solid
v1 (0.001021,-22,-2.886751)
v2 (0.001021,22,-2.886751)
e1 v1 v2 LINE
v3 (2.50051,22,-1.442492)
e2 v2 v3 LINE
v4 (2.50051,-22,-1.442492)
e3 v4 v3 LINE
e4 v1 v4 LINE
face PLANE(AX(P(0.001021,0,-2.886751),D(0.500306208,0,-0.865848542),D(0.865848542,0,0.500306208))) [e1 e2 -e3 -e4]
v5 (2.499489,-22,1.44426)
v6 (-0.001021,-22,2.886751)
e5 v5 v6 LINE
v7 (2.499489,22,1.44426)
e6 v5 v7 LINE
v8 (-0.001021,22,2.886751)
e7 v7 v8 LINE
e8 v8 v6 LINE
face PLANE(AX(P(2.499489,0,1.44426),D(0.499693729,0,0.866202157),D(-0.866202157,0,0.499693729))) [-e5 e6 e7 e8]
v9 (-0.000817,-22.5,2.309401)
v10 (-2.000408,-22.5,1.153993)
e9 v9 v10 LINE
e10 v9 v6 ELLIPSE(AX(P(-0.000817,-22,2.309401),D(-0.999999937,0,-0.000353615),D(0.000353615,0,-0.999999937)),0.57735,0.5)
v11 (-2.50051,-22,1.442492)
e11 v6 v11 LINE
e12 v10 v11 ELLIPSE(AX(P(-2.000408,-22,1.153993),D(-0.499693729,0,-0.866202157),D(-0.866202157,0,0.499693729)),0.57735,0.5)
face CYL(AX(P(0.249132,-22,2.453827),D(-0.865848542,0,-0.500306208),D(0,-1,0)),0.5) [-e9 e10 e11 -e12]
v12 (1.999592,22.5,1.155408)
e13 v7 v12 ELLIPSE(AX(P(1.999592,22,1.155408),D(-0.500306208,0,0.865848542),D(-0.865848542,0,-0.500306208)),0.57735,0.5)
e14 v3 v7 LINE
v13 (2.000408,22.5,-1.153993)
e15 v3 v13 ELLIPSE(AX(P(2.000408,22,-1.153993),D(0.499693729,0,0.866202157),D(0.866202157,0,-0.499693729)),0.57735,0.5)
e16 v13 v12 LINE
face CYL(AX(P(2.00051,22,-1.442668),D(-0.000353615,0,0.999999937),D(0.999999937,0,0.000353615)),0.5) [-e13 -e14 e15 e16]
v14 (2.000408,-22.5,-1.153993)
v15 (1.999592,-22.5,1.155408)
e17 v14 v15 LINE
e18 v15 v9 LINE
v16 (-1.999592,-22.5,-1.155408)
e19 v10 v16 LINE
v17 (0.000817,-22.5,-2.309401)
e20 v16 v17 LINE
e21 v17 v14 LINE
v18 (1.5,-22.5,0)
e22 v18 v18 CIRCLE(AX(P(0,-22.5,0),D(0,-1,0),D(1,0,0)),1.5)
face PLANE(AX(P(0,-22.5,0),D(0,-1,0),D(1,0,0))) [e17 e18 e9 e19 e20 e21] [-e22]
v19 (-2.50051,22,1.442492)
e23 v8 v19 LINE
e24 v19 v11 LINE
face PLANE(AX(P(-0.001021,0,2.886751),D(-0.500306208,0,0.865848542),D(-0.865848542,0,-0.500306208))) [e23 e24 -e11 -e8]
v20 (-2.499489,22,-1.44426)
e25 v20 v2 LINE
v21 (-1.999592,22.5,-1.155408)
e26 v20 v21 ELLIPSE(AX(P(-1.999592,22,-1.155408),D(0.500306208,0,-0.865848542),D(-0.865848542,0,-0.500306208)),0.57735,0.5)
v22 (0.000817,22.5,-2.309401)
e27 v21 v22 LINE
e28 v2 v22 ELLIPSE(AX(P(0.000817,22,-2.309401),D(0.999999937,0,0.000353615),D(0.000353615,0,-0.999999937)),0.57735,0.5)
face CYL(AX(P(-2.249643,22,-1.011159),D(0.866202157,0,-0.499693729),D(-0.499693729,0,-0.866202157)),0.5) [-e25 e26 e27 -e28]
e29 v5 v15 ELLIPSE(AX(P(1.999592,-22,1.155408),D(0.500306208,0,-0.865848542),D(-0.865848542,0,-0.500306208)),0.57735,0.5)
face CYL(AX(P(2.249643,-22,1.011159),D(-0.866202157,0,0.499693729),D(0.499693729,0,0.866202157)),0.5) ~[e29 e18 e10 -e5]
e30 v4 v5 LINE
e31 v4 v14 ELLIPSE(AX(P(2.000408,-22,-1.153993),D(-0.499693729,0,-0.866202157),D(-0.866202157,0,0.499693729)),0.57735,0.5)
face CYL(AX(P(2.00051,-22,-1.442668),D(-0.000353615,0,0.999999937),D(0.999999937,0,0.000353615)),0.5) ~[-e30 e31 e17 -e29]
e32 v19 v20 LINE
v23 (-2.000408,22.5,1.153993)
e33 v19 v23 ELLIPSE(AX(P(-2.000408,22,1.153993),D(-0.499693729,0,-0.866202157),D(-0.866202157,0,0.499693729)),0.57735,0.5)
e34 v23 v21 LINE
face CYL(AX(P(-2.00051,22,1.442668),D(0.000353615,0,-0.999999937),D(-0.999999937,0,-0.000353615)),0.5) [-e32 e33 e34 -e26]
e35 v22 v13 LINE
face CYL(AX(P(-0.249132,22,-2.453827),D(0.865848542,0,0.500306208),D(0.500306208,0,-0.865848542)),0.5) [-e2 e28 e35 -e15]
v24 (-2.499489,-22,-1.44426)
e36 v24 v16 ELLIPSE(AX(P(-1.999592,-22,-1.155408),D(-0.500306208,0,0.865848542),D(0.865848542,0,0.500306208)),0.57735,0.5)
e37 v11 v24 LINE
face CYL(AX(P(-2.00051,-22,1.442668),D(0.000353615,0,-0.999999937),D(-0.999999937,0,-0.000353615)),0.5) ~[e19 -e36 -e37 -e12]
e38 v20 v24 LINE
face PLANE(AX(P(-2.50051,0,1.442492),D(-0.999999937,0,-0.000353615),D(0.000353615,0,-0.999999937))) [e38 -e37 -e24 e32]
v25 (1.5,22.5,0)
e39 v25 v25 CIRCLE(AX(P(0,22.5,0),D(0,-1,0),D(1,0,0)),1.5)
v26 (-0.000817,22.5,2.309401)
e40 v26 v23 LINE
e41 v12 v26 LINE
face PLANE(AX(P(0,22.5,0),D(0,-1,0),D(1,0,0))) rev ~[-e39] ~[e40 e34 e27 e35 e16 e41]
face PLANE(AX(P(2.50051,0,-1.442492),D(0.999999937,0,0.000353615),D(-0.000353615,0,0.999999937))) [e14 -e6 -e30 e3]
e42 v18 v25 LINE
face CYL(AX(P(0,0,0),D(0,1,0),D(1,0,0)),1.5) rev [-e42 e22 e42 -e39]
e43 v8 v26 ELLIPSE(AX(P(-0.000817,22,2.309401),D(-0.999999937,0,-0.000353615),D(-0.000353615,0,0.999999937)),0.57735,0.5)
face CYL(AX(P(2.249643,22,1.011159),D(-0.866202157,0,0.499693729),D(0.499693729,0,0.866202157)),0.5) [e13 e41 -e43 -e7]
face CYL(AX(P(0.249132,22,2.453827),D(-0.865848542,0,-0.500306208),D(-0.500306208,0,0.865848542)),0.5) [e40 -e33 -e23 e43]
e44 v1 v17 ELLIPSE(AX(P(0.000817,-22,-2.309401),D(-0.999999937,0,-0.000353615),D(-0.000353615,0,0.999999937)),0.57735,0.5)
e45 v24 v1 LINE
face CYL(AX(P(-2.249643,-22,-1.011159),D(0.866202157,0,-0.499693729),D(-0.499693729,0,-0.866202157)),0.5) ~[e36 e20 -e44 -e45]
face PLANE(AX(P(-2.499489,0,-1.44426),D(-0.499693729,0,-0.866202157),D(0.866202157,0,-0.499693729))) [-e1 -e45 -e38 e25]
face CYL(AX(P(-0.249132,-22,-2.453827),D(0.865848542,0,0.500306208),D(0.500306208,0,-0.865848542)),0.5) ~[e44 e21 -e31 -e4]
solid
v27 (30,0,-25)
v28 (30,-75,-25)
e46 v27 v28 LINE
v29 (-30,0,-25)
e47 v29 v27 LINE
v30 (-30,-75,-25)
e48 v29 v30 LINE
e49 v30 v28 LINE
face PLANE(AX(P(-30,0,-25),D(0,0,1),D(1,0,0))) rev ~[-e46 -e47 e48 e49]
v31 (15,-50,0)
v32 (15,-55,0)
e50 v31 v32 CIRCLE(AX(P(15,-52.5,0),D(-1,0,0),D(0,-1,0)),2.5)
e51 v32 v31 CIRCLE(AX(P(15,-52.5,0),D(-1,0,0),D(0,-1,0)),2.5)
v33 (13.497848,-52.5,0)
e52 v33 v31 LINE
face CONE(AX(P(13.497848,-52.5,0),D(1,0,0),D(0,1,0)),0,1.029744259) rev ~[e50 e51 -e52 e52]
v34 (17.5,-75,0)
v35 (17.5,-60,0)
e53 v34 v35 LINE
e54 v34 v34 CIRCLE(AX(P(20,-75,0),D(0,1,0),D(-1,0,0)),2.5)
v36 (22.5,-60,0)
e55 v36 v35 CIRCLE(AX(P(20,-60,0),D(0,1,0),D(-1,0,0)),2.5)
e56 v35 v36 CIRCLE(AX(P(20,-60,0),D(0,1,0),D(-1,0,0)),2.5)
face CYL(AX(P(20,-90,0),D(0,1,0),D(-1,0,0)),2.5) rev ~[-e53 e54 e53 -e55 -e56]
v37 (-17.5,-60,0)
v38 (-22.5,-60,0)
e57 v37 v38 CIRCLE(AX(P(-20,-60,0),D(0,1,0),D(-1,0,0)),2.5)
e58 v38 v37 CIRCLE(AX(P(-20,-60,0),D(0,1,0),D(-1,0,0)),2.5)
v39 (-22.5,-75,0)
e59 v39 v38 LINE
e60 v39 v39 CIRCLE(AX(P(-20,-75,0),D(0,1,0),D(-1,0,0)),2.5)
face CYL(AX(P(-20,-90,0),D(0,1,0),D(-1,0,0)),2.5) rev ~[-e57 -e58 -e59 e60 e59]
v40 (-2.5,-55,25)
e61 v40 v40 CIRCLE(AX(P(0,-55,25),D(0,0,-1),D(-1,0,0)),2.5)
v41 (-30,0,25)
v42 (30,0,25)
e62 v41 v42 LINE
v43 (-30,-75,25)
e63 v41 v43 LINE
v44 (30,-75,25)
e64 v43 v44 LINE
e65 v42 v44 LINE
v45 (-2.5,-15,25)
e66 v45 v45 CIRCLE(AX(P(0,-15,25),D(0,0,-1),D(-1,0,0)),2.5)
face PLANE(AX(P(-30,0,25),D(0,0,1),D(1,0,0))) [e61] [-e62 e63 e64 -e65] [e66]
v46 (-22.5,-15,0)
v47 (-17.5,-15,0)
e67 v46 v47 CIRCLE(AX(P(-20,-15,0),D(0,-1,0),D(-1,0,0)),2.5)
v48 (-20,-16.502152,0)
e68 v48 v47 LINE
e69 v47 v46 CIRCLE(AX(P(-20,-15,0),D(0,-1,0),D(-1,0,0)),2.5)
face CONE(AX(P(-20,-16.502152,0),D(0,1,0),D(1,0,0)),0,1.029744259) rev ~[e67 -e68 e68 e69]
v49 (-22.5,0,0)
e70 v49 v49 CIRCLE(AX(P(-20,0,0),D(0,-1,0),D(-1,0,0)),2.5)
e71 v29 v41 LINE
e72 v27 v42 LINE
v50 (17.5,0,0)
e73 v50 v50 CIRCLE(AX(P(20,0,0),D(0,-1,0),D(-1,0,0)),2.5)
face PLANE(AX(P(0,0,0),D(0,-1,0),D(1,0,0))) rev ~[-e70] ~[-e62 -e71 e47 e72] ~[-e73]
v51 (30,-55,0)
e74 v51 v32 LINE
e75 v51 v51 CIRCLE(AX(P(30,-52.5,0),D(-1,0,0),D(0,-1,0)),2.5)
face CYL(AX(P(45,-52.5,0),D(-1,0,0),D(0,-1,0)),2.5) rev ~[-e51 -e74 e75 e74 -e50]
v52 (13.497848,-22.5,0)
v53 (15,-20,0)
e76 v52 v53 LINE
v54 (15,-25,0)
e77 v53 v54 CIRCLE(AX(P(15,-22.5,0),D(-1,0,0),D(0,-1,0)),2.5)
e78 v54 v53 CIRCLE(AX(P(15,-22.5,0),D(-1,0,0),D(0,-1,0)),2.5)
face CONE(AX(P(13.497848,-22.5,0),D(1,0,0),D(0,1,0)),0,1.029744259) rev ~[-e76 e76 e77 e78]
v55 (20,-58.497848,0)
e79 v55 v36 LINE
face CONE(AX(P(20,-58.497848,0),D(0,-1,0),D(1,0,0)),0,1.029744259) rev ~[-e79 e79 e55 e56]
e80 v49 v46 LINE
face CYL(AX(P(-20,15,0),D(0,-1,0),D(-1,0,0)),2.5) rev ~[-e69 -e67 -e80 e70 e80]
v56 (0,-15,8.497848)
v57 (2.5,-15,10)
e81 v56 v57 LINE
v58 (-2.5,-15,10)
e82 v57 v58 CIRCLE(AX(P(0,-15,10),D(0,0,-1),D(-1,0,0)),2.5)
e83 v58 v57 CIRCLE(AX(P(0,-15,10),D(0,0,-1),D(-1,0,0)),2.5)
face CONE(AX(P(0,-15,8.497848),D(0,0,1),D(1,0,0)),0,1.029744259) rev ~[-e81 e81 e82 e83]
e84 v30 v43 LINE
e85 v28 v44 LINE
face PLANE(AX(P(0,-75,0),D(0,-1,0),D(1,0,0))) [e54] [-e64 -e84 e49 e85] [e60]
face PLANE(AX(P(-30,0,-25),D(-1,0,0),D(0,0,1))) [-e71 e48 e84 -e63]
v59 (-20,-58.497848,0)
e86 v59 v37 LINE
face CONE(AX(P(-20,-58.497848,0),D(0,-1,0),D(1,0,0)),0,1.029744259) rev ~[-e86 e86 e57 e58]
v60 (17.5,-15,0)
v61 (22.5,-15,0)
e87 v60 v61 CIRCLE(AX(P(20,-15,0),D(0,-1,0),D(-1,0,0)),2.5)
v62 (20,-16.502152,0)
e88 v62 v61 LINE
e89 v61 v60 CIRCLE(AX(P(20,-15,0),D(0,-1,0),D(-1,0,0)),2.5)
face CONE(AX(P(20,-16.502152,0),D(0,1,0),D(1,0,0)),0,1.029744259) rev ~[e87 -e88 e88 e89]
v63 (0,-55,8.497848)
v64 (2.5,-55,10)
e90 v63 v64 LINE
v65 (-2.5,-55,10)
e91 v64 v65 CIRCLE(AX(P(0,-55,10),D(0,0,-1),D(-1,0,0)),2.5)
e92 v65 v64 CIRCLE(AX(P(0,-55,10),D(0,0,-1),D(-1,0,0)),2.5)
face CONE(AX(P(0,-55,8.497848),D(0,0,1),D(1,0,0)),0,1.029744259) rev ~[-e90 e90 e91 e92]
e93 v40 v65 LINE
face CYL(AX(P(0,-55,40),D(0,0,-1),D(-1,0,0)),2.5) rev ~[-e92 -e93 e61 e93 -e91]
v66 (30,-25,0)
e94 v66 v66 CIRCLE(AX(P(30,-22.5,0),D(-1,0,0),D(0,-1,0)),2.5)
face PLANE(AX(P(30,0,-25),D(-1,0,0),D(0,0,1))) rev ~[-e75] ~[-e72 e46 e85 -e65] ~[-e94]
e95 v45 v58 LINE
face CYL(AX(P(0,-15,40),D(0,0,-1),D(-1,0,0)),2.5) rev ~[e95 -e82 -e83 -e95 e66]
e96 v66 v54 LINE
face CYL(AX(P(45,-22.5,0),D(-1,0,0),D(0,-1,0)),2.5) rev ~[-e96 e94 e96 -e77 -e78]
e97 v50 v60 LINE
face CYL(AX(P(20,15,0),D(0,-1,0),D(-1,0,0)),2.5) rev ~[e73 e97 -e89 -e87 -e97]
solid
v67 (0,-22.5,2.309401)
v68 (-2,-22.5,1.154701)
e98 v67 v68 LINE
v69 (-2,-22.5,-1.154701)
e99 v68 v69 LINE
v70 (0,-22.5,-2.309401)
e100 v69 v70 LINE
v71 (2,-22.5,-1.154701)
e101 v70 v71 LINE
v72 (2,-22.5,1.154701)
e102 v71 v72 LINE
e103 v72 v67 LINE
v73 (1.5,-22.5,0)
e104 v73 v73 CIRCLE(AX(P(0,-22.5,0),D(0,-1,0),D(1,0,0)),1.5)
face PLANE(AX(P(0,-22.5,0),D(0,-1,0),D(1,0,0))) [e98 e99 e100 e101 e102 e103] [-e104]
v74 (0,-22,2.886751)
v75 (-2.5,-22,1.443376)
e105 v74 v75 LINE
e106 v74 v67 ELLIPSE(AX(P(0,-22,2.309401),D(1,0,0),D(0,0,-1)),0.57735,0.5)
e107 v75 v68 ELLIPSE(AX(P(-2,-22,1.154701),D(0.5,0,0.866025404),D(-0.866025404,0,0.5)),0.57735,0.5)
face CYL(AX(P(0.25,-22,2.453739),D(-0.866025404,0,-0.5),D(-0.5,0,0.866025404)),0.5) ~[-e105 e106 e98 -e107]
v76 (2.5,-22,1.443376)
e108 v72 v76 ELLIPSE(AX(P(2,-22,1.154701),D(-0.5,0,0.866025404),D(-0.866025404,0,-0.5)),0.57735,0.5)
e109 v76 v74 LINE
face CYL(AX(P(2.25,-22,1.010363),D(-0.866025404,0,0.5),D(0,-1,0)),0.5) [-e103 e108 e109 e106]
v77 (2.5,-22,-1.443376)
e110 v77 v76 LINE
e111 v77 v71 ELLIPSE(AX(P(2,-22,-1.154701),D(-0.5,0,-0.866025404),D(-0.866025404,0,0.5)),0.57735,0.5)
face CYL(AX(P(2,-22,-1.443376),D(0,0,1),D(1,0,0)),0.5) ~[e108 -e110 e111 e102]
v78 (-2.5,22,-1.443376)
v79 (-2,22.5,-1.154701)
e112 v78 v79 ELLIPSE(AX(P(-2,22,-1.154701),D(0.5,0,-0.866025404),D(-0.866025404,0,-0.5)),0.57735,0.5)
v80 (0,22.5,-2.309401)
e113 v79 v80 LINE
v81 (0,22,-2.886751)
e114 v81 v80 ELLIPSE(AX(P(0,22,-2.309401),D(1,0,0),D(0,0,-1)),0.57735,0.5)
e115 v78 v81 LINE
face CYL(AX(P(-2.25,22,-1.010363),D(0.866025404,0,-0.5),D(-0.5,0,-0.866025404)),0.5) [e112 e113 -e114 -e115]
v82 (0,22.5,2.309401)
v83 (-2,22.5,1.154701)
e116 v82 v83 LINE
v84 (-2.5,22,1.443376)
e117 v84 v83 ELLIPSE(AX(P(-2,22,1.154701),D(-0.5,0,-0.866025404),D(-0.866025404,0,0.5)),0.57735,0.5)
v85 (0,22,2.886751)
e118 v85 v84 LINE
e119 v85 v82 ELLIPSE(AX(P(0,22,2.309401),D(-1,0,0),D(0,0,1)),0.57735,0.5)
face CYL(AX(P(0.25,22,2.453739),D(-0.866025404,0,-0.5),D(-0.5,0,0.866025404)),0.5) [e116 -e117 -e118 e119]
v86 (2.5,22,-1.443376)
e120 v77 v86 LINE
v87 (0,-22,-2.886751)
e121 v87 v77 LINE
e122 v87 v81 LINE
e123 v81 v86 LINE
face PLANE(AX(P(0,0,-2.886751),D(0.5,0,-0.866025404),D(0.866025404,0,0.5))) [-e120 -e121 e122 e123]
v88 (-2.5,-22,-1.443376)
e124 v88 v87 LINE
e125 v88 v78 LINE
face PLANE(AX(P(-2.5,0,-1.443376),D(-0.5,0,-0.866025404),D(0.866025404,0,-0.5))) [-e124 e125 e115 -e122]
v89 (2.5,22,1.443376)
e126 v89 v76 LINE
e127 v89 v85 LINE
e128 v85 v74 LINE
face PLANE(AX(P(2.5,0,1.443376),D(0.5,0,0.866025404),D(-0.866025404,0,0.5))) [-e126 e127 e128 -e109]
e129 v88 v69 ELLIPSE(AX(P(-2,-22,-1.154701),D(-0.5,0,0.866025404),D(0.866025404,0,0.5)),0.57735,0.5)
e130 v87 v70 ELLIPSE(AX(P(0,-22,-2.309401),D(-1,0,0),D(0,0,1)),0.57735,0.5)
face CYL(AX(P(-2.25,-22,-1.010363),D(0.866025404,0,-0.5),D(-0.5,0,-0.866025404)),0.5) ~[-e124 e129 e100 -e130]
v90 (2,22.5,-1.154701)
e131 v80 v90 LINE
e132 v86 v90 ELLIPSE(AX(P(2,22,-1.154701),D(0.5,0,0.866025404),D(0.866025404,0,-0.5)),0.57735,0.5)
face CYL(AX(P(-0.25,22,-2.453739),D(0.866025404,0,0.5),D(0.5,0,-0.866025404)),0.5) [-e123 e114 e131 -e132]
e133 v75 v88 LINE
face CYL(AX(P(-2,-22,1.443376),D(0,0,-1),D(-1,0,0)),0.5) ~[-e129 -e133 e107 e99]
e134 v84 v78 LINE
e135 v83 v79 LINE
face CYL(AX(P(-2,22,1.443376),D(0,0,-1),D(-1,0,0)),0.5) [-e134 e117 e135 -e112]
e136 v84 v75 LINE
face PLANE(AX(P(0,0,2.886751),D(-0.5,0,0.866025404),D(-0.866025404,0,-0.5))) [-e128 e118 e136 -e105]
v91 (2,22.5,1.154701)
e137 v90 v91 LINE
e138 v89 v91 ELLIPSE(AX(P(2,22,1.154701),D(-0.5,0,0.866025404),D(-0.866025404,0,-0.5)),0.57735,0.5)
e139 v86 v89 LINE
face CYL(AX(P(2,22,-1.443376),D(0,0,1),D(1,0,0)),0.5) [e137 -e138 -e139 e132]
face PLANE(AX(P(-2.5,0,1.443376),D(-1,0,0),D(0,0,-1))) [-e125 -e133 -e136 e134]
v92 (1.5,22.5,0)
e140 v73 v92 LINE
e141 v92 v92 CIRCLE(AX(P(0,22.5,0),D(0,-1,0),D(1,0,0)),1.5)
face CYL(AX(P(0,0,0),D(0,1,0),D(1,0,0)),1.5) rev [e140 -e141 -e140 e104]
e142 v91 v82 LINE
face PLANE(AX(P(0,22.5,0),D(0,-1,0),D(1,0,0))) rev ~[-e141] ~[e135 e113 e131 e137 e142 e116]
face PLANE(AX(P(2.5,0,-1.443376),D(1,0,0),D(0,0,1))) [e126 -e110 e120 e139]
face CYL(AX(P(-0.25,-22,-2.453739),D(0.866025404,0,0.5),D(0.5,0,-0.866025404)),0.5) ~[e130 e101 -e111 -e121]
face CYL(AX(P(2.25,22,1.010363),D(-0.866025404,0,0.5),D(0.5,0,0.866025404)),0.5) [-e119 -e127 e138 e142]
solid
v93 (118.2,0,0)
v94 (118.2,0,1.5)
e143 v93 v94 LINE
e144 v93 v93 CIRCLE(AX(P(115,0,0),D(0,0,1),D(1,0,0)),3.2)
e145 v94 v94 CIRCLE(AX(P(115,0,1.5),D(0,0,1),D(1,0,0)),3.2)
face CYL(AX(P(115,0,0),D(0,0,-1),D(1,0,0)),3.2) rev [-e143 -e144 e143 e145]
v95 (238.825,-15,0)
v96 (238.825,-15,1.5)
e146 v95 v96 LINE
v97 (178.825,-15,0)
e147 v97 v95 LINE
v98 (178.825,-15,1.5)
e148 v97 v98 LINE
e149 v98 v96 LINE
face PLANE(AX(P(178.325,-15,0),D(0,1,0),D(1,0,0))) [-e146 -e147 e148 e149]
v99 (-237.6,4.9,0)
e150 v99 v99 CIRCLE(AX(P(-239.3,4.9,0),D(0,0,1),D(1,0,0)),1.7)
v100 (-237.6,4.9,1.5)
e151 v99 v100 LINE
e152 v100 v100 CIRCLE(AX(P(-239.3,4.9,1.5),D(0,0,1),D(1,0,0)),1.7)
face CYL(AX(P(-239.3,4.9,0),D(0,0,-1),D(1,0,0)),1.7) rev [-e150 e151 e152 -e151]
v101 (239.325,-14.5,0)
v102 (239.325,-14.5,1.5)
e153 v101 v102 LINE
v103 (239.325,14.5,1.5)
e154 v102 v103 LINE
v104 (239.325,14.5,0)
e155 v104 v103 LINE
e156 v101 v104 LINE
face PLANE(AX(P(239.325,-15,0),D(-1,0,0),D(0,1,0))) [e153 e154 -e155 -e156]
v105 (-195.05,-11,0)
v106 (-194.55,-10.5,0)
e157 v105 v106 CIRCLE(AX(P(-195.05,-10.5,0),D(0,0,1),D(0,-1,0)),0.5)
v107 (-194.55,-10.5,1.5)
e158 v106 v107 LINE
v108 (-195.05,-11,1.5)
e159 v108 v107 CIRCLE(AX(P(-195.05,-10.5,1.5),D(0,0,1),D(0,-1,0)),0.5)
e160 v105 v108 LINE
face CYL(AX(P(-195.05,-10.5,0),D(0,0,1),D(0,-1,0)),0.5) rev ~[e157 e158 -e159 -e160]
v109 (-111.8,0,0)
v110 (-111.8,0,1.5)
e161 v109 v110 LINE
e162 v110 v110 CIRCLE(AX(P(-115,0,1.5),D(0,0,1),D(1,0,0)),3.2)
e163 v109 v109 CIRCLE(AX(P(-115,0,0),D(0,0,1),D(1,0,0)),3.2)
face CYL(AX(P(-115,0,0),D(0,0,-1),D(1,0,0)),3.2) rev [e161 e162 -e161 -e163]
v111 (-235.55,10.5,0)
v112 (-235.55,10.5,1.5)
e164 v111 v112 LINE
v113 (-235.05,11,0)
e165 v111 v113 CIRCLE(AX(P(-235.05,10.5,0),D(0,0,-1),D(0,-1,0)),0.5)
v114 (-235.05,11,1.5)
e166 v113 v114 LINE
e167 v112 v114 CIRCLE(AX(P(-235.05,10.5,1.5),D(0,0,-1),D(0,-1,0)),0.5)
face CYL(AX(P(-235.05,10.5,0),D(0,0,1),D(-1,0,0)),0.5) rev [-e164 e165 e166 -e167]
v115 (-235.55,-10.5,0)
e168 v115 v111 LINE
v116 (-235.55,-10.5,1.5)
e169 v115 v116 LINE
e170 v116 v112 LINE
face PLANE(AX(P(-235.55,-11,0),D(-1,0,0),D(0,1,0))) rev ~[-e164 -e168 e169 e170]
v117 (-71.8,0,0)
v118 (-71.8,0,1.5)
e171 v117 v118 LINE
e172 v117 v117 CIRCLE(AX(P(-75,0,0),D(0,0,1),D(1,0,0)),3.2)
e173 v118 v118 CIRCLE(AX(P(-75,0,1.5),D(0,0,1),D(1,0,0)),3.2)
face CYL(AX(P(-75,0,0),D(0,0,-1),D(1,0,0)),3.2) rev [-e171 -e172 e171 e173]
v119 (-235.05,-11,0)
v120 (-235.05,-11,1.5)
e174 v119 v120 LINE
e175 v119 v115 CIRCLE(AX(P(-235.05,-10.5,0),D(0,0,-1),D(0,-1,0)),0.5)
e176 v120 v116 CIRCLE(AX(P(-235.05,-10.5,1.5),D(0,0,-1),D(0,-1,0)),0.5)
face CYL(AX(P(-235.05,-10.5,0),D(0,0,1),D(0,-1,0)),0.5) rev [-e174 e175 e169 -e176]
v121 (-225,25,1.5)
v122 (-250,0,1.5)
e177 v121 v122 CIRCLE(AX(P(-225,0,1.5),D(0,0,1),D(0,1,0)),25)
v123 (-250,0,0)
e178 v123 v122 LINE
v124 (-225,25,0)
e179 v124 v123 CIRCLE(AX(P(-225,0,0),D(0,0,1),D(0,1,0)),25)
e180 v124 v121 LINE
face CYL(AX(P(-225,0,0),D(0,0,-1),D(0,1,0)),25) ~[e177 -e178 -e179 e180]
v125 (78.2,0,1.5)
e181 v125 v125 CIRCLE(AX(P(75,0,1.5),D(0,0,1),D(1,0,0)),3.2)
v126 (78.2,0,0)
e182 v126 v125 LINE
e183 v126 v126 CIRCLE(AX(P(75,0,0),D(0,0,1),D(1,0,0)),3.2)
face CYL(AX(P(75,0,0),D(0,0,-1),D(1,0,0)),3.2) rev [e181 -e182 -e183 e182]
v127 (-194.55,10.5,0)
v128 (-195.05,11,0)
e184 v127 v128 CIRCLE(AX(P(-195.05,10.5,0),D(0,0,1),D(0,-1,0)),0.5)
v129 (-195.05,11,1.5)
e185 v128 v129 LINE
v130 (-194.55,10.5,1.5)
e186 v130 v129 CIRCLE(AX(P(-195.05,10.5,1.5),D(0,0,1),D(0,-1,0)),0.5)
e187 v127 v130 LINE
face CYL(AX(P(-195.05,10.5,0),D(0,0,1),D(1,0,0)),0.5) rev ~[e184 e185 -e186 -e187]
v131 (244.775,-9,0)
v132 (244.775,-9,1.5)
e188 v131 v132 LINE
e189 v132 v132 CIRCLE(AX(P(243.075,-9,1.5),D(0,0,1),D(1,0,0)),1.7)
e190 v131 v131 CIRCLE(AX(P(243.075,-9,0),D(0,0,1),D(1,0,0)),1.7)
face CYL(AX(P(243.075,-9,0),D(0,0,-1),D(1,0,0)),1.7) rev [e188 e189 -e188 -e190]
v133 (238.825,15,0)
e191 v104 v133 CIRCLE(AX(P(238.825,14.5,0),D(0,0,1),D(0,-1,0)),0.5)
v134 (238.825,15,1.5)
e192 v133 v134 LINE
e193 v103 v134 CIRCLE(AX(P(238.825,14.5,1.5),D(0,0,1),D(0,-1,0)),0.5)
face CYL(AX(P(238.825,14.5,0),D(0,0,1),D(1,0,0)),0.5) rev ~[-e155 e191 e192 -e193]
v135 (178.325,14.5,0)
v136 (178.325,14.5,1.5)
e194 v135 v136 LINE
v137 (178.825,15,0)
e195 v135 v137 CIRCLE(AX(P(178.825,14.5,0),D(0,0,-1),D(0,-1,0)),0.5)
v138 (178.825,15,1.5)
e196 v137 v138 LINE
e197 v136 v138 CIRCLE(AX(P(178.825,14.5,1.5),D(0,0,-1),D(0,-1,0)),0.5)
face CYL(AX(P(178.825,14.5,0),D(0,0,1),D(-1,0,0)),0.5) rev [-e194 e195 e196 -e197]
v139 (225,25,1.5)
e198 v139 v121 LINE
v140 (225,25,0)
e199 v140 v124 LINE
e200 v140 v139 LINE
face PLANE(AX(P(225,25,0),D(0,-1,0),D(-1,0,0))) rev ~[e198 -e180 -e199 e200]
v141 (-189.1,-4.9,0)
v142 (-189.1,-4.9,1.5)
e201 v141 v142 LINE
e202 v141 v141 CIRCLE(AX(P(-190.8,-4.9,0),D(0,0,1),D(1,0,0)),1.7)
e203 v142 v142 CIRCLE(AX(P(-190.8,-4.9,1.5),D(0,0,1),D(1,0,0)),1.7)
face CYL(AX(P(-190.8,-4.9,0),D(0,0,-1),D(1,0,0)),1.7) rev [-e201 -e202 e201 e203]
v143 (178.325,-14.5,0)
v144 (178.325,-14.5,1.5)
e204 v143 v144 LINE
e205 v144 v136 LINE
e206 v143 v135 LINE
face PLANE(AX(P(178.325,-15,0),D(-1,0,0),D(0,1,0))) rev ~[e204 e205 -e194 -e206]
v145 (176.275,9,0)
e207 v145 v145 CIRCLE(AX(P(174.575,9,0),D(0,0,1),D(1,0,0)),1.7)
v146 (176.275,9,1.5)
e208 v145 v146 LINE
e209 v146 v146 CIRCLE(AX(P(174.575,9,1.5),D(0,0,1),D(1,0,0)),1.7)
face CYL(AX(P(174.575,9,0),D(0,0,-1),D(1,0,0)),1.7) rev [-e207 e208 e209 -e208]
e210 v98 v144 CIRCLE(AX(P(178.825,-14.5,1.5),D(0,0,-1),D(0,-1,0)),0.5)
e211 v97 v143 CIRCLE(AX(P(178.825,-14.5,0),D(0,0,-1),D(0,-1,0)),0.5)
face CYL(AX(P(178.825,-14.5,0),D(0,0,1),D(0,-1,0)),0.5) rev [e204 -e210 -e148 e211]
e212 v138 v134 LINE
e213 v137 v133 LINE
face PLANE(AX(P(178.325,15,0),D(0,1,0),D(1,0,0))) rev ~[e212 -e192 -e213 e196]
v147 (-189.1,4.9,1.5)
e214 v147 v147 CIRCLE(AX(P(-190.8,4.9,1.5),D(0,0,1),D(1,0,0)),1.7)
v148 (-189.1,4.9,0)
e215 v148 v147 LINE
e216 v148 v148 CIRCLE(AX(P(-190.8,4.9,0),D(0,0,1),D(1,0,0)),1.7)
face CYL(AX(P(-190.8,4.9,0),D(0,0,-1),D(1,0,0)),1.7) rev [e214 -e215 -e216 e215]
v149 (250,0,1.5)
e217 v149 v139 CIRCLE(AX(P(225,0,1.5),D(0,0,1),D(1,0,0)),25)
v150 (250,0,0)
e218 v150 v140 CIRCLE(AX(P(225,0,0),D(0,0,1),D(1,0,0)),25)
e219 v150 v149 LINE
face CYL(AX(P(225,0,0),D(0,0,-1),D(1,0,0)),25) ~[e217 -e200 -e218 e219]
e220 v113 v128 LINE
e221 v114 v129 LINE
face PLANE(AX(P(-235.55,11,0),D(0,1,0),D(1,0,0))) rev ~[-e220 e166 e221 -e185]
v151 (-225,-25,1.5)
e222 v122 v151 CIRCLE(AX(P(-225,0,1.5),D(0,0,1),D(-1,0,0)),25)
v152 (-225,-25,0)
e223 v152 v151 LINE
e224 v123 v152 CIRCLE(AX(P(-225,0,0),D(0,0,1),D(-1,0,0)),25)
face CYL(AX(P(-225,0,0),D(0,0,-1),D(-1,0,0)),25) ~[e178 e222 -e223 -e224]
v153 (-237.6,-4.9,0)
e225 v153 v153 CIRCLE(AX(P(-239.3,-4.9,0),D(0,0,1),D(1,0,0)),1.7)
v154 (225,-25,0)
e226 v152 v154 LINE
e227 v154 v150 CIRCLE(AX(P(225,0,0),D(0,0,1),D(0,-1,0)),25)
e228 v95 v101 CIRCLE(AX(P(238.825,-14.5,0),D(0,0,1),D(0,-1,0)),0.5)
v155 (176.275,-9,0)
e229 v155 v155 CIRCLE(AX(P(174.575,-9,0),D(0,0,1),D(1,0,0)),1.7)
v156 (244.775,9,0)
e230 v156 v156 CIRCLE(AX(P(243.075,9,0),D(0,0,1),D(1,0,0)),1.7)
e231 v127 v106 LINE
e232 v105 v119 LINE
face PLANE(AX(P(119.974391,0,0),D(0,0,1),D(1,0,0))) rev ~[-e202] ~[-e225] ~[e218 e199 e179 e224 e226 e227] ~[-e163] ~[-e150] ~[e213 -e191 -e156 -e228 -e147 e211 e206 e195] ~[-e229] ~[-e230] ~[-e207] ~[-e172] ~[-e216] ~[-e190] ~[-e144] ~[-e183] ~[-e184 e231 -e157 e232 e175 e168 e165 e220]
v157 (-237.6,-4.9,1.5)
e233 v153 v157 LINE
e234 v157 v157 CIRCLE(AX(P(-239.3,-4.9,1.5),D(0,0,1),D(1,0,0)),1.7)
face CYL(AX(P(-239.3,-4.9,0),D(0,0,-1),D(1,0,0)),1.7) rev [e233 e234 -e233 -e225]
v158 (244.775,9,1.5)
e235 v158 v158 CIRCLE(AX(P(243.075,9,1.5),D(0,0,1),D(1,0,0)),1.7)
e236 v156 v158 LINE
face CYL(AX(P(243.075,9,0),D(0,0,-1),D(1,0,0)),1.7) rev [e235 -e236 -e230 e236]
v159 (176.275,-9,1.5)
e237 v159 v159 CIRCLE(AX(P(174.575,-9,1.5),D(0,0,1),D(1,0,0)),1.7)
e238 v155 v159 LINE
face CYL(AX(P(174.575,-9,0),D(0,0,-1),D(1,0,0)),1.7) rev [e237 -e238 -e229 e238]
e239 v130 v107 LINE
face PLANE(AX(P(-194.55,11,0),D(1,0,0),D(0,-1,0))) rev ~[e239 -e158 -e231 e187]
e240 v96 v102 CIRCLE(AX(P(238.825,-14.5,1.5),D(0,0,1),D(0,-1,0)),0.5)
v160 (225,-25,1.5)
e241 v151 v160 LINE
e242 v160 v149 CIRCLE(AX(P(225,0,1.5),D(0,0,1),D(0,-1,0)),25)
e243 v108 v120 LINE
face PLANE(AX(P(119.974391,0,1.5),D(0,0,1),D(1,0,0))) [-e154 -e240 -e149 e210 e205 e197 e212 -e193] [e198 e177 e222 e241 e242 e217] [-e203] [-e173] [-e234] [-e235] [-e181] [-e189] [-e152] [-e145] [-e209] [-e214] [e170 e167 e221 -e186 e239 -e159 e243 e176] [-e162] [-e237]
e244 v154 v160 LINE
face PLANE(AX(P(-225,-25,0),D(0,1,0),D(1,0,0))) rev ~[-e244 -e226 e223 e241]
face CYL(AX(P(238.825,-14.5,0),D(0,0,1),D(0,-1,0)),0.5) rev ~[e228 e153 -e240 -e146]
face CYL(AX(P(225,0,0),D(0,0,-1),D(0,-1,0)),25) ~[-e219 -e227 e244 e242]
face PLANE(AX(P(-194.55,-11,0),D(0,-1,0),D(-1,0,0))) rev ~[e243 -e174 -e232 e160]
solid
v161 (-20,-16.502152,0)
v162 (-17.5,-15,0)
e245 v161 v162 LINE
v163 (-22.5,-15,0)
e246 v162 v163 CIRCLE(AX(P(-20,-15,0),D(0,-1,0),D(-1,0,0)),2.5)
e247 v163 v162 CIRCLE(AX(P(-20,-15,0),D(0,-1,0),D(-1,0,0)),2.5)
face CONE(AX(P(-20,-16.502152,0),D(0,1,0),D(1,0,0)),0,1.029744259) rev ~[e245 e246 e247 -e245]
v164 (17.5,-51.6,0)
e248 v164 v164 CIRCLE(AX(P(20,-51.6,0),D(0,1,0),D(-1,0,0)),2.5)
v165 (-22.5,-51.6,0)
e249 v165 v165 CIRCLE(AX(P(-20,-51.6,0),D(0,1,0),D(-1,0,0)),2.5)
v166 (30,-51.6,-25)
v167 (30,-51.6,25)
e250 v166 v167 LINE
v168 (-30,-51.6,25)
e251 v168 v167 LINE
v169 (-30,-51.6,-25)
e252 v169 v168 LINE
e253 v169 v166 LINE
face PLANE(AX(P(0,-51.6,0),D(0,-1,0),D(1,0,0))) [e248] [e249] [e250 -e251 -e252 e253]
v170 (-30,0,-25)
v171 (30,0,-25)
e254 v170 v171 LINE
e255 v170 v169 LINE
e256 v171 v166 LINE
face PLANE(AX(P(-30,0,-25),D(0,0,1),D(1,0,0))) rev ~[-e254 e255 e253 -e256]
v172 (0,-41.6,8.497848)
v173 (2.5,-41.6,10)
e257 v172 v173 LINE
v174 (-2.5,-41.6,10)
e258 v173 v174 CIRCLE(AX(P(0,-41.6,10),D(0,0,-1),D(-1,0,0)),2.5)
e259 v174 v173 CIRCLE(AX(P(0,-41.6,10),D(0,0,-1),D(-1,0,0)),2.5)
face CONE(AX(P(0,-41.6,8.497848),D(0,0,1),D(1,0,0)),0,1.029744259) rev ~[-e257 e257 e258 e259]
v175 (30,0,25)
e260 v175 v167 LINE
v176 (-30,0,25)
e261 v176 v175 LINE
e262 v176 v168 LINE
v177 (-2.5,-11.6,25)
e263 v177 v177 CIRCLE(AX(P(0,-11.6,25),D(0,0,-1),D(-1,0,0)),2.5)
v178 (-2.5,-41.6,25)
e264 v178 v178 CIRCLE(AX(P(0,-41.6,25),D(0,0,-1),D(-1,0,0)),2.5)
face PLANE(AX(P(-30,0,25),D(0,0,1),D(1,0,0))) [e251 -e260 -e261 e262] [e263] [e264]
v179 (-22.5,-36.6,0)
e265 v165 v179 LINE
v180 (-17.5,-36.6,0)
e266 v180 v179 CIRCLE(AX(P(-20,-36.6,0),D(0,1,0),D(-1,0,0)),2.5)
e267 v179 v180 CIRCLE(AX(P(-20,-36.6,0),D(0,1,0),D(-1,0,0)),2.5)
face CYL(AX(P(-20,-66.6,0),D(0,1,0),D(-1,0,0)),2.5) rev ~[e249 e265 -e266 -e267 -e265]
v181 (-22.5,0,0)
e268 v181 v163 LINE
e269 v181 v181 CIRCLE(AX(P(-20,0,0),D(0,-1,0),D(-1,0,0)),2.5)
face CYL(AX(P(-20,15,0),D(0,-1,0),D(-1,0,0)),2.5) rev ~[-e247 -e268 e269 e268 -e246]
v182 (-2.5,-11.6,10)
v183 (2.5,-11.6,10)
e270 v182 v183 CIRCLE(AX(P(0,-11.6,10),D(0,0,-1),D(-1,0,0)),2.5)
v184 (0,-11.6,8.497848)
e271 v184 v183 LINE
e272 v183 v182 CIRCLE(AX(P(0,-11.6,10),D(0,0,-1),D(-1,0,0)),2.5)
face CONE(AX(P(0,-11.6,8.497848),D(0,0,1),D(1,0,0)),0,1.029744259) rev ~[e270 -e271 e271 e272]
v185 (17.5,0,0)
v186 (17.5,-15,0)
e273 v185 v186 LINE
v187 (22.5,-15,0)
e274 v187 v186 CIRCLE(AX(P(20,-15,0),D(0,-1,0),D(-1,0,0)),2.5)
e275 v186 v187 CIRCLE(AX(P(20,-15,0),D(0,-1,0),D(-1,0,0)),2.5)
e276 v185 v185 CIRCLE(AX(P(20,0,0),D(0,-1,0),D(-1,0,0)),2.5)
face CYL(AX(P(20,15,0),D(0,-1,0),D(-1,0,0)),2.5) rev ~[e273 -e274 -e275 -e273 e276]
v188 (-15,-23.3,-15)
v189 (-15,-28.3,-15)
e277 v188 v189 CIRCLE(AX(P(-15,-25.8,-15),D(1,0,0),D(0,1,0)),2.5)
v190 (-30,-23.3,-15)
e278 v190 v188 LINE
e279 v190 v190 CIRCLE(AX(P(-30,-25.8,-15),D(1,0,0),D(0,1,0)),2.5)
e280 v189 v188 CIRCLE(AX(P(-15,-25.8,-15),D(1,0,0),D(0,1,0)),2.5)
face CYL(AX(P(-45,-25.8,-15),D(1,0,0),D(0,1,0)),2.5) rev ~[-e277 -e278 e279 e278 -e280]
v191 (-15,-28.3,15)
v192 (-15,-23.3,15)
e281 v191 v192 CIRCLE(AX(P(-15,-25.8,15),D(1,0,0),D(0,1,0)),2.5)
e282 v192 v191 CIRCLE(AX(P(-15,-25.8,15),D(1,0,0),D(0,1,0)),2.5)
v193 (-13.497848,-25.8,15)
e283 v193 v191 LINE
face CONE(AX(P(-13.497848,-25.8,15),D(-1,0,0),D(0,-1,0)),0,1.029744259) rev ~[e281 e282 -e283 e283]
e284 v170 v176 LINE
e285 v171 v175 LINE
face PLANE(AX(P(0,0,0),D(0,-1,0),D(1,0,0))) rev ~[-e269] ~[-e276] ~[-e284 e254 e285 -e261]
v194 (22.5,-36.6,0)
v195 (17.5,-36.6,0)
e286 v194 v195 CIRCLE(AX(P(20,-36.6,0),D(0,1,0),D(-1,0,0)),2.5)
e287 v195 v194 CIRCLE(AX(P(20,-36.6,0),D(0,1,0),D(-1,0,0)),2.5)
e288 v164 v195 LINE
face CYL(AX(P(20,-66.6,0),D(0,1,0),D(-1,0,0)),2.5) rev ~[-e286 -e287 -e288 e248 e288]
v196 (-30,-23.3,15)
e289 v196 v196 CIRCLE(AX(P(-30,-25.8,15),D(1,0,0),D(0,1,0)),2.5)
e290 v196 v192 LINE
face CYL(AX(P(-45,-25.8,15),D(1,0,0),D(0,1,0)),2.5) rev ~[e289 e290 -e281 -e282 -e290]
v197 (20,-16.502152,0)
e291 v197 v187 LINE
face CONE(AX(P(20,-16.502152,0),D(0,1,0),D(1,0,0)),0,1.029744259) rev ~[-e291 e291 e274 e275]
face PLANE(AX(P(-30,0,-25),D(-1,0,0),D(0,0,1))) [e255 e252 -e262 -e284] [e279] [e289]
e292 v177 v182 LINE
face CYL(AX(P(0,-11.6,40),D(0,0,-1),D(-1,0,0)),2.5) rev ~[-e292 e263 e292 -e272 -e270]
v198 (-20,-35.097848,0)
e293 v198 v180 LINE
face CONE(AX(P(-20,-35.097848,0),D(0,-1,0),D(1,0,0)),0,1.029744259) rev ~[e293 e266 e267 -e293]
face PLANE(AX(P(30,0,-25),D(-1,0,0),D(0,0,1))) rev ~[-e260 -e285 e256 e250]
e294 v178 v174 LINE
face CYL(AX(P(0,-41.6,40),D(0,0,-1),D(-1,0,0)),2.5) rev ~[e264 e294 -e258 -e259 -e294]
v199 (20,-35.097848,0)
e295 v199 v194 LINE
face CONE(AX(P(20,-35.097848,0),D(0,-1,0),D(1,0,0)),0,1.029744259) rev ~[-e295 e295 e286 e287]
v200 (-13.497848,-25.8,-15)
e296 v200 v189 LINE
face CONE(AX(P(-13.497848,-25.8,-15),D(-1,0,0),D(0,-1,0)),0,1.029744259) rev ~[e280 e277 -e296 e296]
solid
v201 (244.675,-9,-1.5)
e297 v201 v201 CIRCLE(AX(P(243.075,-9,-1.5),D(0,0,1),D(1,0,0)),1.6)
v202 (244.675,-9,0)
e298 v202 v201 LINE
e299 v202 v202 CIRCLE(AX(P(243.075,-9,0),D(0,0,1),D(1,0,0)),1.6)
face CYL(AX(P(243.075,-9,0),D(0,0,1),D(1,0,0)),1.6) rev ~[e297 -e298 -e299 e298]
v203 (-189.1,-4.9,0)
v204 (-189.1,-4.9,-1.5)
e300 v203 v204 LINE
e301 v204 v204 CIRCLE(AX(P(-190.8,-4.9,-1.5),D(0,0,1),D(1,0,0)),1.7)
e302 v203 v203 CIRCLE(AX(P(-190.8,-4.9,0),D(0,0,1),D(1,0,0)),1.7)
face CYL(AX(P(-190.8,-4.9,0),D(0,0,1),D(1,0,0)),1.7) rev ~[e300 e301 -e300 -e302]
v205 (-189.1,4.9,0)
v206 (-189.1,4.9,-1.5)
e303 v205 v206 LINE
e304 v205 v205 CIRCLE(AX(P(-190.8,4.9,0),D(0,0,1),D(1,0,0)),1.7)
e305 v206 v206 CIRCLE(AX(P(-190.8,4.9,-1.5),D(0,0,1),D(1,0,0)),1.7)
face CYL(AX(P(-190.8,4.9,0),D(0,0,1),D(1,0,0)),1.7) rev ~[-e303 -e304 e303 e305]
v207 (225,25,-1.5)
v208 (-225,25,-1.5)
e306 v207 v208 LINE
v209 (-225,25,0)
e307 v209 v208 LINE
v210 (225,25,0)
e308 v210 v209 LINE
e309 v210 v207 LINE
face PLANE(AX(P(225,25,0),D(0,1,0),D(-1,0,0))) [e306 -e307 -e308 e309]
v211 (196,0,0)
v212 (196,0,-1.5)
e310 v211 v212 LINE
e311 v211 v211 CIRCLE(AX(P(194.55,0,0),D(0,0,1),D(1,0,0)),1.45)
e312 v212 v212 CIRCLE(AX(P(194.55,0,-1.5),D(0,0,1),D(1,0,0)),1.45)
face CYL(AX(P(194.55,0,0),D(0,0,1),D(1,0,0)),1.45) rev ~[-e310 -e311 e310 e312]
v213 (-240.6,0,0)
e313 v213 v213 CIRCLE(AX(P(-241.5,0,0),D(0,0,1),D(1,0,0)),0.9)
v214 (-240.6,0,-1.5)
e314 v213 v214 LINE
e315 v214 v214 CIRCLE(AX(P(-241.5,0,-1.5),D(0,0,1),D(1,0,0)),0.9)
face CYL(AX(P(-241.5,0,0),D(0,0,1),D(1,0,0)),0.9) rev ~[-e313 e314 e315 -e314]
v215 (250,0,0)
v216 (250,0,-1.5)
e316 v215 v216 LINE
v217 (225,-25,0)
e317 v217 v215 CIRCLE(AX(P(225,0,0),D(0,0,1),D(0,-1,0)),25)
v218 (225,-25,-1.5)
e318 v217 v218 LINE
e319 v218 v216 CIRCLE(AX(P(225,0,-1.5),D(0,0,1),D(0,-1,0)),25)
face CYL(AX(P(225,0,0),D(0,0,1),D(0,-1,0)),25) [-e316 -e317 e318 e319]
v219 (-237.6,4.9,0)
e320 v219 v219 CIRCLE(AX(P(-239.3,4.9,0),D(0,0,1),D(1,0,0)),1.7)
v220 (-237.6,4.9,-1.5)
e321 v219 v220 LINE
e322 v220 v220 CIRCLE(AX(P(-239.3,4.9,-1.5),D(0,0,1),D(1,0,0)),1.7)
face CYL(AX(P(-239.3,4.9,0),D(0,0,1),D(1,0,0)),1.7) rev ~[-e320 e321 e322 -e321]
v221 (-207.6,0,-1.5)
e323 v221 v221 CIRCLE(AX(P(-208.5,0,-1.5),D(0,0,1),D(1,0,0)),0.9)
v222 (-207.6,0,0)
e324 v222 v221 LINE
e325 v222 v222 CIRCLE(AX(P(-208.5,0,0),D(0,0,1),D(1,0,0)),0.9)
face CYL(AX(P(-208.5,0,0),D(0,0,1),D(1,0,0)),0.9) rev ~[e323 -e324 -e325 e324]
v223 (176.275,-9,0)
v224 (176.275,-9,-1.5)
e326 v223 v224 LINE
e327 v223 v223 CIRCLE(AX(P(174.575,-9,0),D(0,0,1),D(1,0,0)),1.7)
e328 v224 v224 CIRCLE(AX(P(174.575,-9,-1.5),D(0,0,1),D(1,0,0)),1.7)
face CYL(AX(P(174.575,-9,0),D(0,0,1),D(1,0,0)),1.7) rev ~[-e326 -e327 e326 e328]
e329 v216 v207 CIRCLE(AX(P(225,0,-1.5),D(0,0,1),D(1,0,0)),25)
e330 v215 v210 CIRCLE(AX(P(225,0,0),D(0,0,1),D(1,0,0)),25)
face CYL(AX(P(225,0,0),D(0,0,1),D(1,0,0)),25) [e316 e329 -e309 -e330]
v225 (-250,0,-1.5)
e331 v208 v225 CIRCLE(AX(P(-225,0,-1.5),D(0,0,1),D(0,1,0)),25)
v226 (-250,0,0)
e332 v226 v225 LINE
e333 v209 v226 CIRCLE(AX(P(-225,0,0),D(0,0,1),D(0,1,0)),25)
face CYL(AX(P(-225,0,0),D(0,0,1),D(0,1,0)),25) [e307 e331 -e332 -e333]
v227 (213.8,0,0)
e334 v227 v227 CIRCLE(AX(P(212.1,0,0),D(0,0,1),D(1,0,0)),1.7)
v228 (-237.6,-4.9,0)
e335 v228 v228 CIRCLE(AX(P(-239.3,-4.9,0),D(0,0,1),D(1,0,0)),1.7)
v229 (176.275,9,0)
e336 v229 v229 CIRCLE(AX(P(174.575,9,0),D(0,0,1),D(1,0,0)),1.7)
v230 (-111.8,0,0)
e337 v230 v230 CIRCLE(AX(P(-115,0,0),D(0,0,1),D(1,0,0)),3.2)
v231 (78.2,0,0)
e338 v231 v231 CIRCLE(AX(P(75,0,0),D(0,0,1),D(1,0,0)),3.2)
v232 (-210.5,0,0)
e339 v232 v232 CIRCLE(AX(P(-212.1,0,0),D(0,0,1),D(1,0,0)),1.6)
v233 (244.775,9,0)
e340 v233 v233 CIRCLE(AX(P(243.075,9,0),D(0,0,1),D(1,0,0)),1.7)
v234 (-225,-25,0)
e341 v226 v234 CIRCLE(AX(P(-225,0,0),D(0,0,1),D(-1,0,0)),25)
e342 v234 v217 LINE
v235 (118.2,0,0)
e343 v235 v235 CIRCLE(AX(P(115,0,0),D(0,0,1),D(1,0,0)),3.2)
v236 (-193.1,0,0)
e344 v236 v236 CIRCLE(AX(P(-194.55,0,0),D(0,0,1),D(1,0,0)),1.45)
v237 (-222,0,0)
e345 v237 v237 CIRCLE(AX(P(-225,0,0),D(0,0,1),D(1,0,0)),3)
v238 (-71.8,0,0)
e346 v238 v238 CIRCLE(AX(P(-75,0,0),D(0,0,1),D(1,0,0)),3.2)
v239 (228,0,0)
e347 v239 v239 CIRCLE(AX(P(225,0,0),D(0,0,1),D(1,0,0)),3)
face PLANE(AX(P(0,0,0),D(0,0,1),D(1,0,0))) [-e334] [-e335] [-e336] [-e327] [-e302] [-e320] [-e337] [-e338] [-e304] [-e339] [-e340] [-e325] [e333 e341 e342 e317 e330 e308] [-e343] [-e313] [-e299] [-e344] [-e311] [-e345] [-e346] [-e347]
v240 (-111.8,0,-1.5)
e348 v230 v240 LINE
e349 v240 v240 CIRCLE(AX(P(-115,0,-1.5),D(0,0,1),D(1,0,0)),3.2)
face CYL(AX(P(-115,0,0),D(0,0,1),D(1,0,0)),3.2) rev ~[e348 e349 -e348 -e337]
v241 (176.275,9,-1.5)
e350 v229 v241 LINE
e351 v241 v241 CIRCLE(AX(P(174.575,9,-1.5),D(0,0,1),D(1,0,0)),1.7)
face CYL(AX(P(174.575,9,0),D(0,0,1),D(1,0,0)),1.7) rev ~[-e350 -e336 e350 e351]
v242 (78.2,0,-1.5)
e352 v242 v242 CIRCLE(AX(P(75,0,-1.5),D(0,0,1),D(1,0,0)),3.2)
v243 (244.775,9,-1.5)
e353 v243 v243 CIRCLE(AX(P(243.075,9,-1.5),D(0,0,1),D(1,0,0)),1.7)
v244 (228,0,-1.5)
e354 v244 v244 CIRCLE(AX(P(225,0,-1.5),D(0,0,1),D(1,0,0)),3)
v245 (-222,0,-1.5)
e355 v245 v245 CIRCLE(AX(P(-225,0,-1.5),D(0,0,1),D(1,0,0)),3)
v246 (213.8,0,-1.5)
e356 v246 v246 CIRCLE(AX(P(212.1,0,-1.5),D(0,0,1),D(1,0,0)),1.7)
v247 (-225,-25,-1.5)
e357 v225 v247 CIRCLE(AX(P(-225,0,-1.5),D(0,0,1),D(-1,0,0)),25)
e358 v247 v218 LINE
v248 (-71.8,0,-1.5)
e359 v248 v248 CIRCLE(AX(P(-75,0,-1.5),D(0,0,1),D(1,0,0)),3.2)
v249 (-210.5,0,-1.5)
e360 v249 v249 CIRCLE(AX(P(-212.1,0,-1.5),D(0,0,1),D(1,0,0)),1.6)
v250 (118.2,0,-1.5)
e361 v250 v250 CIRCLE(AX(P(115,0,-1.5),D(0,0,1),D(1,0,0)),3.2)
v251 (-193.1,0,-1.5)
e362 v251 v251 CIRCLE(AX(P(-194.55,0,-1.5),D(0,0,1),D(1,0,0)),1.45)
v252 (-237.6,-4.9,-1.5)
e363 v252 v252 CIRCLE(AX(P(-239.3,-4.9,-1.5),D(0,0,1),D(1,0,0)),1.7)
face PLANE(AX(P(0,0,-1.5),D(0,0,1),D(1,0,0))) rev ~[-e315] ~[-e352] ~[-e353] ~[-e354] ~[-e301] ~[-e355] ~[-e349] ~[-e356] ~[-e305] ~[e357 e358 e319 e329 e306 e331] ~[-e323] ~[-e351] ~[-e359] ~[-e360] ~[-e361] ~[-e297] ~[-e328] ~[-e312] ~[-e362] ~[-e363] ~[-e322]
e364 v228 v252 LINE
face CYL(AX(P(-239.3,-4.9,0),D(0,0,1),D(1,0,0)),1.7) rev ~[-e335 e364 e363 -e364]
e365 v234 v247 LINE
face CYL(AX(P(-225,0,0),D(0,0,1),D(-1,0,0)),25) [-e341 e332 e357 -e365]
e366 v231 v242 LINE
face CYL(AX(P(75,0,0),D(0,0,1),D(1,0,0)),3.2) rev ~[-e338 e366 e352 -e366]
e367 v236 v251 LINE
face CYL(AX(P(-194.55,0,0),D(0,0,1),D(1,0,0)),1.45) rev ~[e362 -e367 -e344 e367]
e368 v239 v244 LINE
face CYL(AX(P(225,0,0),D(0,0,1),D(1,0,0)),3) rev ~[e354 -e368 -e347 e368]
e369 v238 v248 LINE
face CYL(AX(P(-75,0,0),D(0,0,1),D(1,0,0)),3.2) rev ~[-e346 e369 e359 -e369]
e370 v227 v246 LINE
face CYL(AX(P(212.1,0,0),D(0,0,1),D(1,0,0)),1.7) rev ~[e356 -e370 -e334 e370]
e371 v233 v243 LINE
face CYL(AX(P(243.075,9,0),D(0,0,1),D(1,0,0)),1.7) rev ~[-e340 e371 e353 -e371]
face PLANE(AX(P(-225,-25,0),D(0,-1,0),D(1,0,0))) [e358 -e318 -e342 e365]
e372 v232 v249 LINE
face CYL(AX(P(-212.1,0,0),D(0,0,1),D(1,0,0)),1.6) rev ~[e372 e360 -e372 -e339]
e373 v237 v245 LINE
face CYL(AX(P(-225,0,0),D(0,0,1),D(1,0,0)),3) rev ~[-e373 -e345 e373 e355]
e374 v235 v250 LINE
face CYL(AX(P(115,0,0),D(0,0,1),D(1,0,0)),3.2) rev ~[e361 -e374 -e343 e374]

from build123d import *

# Parameters (mm, degrees)
F0_R      = 3.2
F0_R_2    = 1.7
F0_W      = 61
F0_H      = 30
F1_DEPTH  = 1.5
F2_R      = 1.7
F2_R_2    = 1.6
F2_R_3    = 0.9
F2_R_4    = 3
F2_R_5    = 1.45
F2_R_6    = 3.2
F3_DEPTH  = 1.5
F4_W      = 60
F4_H      = 50
F5_DEPTH  = 51.6
F6_W      = 60
F6_H      = 50
F7_DEPTH  = 75
F8_R      = 1.5
F9_DEPTH  = 22.5
F10_R     = 0.5
F11_R     = 1.5
F12_DEPTH = 22.5
F13_R     = 0.5
F15_D     = 5
F15_DEPTH = 15
F15_TIP   = 1.5021515476
F17_D     = 5
F17_DEPTH = 15
F17_TIP   = 1.5021515476
F19_D     = 5
F19_DEPTH = 15
F19_TIP   = 1.5021515476
F21_D     = 5
F21_DEPTH = 15
F21_TIP   = 1.5021515476
F22_D     = 5
F22_DEPTH = 15
F22_TIP   = 1.5021515476
F24_D     = 5
F24_DEPTH = 15
F24_TIP   = 1.5021515476
F25_D     = 5
F25_DEPTH = 15
F25_TIP   = 1.5021515476
F27_D     = 5
F27_DEPTH = 15
F27_TIP   = 1.5021515476
F28_R     = 0.5


with BuildPart() as f1:
    # F0 (on Top) → F1 (new body)
    with BuildSketch(Plane.XY):
        with BuildLine():
            ThreePointArc((250, 0), (242.6776695297, 17.6776695297), (225, 25))
            Line((225, 25), (0, 25))
            Line((0, 25), (0, -25))
            Line((0, -25), (225, -25))
            ThreePointArc((225, -25), (242.6776695297, -17.6776695297), (250, 0))
        make_face()
        with Locations((75, 0)):
            Circle(F0_R, mode=Mode.SUBTRACT)
        with Locations((115, 0)):
            Circle(F0_R, mode=Mode.SUBTRACT)
        with Locations((174.575, -9)):
            Circle(F0_R_2, mode=Mode.SUBTRACT)
        with Locations((243.075, -9)):
            Circle(F0_R_2, mode=Mode.SUBTRACT)
        with Locations((208.825, 0)):
            Rectangle(F0_W, F0_H, mode=Mode.SUBTRACT)
        with Locations((174.575, 9)):
            Circle(F0_R_2, mode=Mode.SUBTRACT)
        with Locations((243.075, 9)):
            Circle(F0_R_2, mode=Mode.SUBTRACT)
        with BuildLine():
            Line((0, -25), (0, 25))
            Line((0, 25), (-225, 25))
            ThreePointArc((-225, 25), (-242.6776695297, 17.6776695297), (-250, 0))
            ThreePointArc((-250, 0), (-242.6776695297, -17.6776695297), (-225, -25))
            Line((-225, -25), (0, -25))
        make_face()
        with Locations((-239.3, -4.9)):
            Circle(F0_R_2, mode=Mode.SUBTRACT)
        with Locations((-190.8, -4.9)):
            Circle(F0_R_2, mode=Mode.SUBTRACT)
        Polygon((-235.55, -11), (-235.55, 11), (-215.05, 11), (-194.55, 11), (-194.55, -11), (-215.05, -11), align=None, mode=Mode.SUBTRACT)
        with Locations((-115, 0)):
            Circle(F0_R, mode=Mode.SUBTRACT)
        with Locations((-75, 0)):
            Circle(F0_R, mode=Mode.SUBTRACT)
        with Locations((-239.3, 4.9)):
            Circle(F0_R_2, mode=Mode.SUBTRACT)
        with Locations((-190.8, 4.9)):
            Circle(F0_R_2, mode=Mode.SUBTRACT)
    extrude(amount=F1_DEPTH)

    # F28
    f28_edges = [f1.edges().sort_by_distance(p)[0] for p in [
        (-235.55, 11, 0.75),
        (-235.55, -11, 0.75),
        (-194.55, -11, 0.75),
        (-194.55, 11, 0.75),
        (178.325, 15, 0.75),
        (178.325, -15, 0.75),
        (239.325, -15, 0.75),
        (239.325, 15, 0.75),
    ]]
    fillet(f28_edges, radius=F28_R)


with BuildPart() as f3:
    # F2 (on Top) → F3 (new body)
    with BuildSketch(Plane.XY):
        with BuildLine():
            Line((-225, -25), (225, -25))
            ThreePointArc((225, -25), (242.6776695297, -17.6776695297), (250, 0))
            ThreePointArc((250, 0), (242.6776695297, 17.6776695297), (225, 25))
            Line((225, 25), (-225, 25))
            ThreePointArc((-225, 25), (-242.6776695297, 17.6776695297), (-250, 0))
            ThreePointArc((-250, 0), (-242.6776695297, -17.6776695297), (-225, -25))
        make_face()
        with Locations((-239.3, -4.9)):
            Circle(F2_R, mode=Mode.SUBTRACT)
        with Locations((-190.8, -4.9)):
            Circle(F2_R, mode=Mode.SUBTRACT)
        with Locations((174.575, -9)):
            Circle(F2_R, mode=Mode.SUBTRACT)
        with Locations((243.075, -9)):
            Circle(F2_R_2, mode=Mode.SUBTRACT)
        with Locations((-241.5, 0)):
            Circle(F2_R_3, mode=Mode.SUBTRACT)
        with Locations((-225, 0)):
            Circle(F2_R_4, mode=Mode.SUBTRACT)
        with Locations((-212.1, 0)):
            Circle(F2_R_2, mode=Mode.SUBTRACT)
        with Locations((-208.5, 0)):
            Circle(F2_R_3, mode=Mode.SUBTRACT)
        with Locations((-194.55, 0)):
            Circle(F2_R_5, mode=Mode.SUBTRACT)
        with Locations((-239.3, 4.9)):
            Circle(F2_R, mode=Mode.SUBTRACT)
        with Locations((-190.8, 4.9)):
            Circle(F2_R, mode=Mode.SUBTRACT)
        with Locations((-115, 0)):
            Circle(F2_R_6, mode=Mode.SUBTRACT)
        with Locations((-75, 0)):
            Circle(F2_R_6, mode=Mode.SUBTRACT)
        with Locations((75, 0)):
            Circle(F2_R_6, mode=Mode.SUBTRACT)
        with Locations((115, 0)):
            Circle(F2_R_6, mode=Mode.SUBTRACT)
        with Locations((194.55, 0)):
            Circle(F2_R_5, mode=Mode.SUBTRACT)
        with Locations((212.1, 0)):
            Circle(F2_R, mode=Mode.SUBTRACT)
        with Locations((225, 0)):
            Circle(F2_R_4, mode=Mode.SUBTRACT)
        with Locations((174.575, 9)):
            Circle(F2_R, mode=Mode.SUBTRACT)
        with Locations((243.075, 9)):
            Circle(F2_R, mode=Mode.SUBTRACT)
    extrude(amount=-F3_DEPTH)


with BuildPart() as f5:
    # F4 (on Front) → F5 (new body)
    with BuildSketch(Plane.XZ):
        Rectangle(F4_W, F4_H)
    extrude(amount=F5_DEPTH)

    # F15
    with Locations(Plane.XY.offset(25)):
        with Locations((0, -11.6), (0, -41.6)):
            Hole(F15_D / 2, depth=F15_DEPTH)
            with Locations((0, 0, -(F15_DEPTH + F15_TIP / 2))):  # 118° drill point
                Cone(0, F15_D / 2, F15_TIP, mode=Mode.SUBTRACT)

    # F17
    with Locations(Plane(origin=(-30, 0, 0), x_dir=(0, -1, 0), z_dir=(-1, 0, 0))):
        with Locations((25.8, 15), (25.8, -15)):
            Hole(F17_D / 2, depth=F17_DEPTH)
            with Locations((0, 0, -(F17_DEPTH + F17_TIP / 2))):  # 118° drill point
                Cone(0, F17_D / 2, F17_TIP, mode=Mode.SUBTRACT)

    # F22
    with Locations(Plane(origin=(0, 0, 0), x_dir=(1, 0, 0), z_dir=(0, 1, 0))):
        with Locations((-20, 0), (20, 0)):
            Hole(F22_D / 2, depth=F22_DEPTH)
            with Locations((0, 0, -(F22_DEPTH + F22_TIP / 2))):  # 118° drill point
                Cone(0, F22_D / 2, F22_TIP, mode=Mode.SUBTRACT)

    # F24
    with Locations(Plane.XZ.offset(51.6)):
        with Locations((-20, 0), (20, 0)):
            Hole(F24_D / 2, depth=F24_DEPTH)
            with Locations((0, 0, -(F24_DEPTH + F24_TIP / 2))):  # 118° drill point
                Cone(0, F24_D / 2, F24_TIP, mode=Mode.SUBTRACT)


with BuildPart() as f7:
    # F6 (on Front) → F7 (new body)
    with BuildSketch(Plane.XZ):
        Rectangle(F6_W, F6_H)
    extrude(amount=F7_DEPTH)

    # F19
    with Locations(Plane.XY.offset(25)):
        with Locations((0, -15), (0, -55)):
            Hole(F19_D / 2, depth=F19_DEPTH)
            with Locations((0, 0, -(F19_DEPTH + F19_TIP / 2))):  # 118° drill point
                Cone(0, F19_D / 2, F19_TIP, mode=Mode.SUBTRACT)

    # F21
    with Locations(Plane.YZ.offset(30)):
        with Locations((-22.5, 0), (-52.5, 0)):
            Hole(F21_D / 2, depth=F21_DEPTH)
            with Locations((0, 0, -(F21_DEPTH + F21_TIP / 2))):  # 118° drill point
                Cone(0, F21_D / 2, F21_TIP, mode=Mode.SUBTRACT)

    # F25
    with Locations(Plane(origin=(0, 0, 0), x_dir=(1, 0, 0), z_dir=(0, 1, 0))):
        with Locations((20, 0), (-20, 0)):
            Hole(F25_D / 2, depth=F25_DEPTH)
            with Locations((0, 0, -(F25_DEPTH + F25_TIP / 2))):  # 118° drill point
                Cone(0, F25_D / 2, F25_TIP, mode=Mode.SUBTRACT)

    # F27
    with Locations(Plane.XZ.offset(75)):
        with Locations((-20, 0), (20, 0)):
            Hole(F27_D / 2, depth=F27_DEPTH)
            with Locations((0, 0, -(F27_DEPTH + F27_TIP / 2))):  # 118° drill point
                Cone(0, F27_D / 2, F27_TIP, mode=Mode.SUBTRACT)


with BuildPart() as f9:
    # F8 (on Front) → F9 (new body, symmetric)
    with BuildSketch(Plane.XZ):
        Polygon((2.5, -1.443375673), (2.5, 1.443375673), (0, 2.8867513459), (-2.5, 1.443375673), (-2.5, -1.443375673), (0, -2.8867513459), align=None)
        Circle(F8_R, mode=Mode.SUBTRACT)
    extrude(amount=F9_DEPTH, both=True)

    # F10
    f10_edges = [f9.edges().sort_by_distance(p)[0] for p in [
        (-1.25, -22.5, 2.165064),
        (1.25, -22.5, 2.165064),
        (2.5, -22.5, 0),
        (1.25, -22.5, -2.165064),
        (-1.25, -22.5, -2.165064),
        (-2.5, -22.5, 0),
        (1.25, 22.5, 2.165064),
        (-1.25, 22.5, 2.165064),
        (-2.5, 22.5, 0),
        (-1.25, 22.5, -2.165064),
        (1.25, 22.5, -2.165064),
        (2.5, 22.5, 0),
    ]]
    fillet(f10_edges, radius=F10_R)


with BuildPart() as f12:
    # F11 (on Front) → F12 (new body, symmetric)
    with BuildSketch(Plane.XZ):
        Polygon((2.4994894442, 1.4442596206), (-0.001020799, 2.8867511655), (-2.5005102432, 1.4424915448), (-2.4994894442, -1.4442596206), (0.001020799, -2.8867511655), (2.5005102432, -1.4424915448), align=None)
        Circle(F11_R, mode=Mode.SUBTRACT)
    extrude(amount=F12_DEPTH, both=True)

    # F13
    f13_edges = [f12.edges().sort_by_distance(p)[0] for p in [
        (-1.250766, -22.5, 2.164621),
        (1.249234, -22.5, 2.165505),
        (2.5, -22.5, 0.000884),
        (1.250766, -22.5, -2.164621),
        (-1.249234, -22.5, -2.165505),
        (-2.5, -22.5, -0.000884),
        (1.249234, 22.5, 2.165505),
        (-1.250766, 22.5, 2.164621),
        (-2.5, 22.5, -0.000884),
        (-1.249234, 22.5, -2.165505),
        (1.250766, 22.5, -2.164621),
        (2.5, 22.5, 0.000884),
    ]]
    fillet(f13_edges, radius=F13_R)


solid = Compound([f1.part, f3.part, f5.part, f7.part, f9.part, f12.part])
